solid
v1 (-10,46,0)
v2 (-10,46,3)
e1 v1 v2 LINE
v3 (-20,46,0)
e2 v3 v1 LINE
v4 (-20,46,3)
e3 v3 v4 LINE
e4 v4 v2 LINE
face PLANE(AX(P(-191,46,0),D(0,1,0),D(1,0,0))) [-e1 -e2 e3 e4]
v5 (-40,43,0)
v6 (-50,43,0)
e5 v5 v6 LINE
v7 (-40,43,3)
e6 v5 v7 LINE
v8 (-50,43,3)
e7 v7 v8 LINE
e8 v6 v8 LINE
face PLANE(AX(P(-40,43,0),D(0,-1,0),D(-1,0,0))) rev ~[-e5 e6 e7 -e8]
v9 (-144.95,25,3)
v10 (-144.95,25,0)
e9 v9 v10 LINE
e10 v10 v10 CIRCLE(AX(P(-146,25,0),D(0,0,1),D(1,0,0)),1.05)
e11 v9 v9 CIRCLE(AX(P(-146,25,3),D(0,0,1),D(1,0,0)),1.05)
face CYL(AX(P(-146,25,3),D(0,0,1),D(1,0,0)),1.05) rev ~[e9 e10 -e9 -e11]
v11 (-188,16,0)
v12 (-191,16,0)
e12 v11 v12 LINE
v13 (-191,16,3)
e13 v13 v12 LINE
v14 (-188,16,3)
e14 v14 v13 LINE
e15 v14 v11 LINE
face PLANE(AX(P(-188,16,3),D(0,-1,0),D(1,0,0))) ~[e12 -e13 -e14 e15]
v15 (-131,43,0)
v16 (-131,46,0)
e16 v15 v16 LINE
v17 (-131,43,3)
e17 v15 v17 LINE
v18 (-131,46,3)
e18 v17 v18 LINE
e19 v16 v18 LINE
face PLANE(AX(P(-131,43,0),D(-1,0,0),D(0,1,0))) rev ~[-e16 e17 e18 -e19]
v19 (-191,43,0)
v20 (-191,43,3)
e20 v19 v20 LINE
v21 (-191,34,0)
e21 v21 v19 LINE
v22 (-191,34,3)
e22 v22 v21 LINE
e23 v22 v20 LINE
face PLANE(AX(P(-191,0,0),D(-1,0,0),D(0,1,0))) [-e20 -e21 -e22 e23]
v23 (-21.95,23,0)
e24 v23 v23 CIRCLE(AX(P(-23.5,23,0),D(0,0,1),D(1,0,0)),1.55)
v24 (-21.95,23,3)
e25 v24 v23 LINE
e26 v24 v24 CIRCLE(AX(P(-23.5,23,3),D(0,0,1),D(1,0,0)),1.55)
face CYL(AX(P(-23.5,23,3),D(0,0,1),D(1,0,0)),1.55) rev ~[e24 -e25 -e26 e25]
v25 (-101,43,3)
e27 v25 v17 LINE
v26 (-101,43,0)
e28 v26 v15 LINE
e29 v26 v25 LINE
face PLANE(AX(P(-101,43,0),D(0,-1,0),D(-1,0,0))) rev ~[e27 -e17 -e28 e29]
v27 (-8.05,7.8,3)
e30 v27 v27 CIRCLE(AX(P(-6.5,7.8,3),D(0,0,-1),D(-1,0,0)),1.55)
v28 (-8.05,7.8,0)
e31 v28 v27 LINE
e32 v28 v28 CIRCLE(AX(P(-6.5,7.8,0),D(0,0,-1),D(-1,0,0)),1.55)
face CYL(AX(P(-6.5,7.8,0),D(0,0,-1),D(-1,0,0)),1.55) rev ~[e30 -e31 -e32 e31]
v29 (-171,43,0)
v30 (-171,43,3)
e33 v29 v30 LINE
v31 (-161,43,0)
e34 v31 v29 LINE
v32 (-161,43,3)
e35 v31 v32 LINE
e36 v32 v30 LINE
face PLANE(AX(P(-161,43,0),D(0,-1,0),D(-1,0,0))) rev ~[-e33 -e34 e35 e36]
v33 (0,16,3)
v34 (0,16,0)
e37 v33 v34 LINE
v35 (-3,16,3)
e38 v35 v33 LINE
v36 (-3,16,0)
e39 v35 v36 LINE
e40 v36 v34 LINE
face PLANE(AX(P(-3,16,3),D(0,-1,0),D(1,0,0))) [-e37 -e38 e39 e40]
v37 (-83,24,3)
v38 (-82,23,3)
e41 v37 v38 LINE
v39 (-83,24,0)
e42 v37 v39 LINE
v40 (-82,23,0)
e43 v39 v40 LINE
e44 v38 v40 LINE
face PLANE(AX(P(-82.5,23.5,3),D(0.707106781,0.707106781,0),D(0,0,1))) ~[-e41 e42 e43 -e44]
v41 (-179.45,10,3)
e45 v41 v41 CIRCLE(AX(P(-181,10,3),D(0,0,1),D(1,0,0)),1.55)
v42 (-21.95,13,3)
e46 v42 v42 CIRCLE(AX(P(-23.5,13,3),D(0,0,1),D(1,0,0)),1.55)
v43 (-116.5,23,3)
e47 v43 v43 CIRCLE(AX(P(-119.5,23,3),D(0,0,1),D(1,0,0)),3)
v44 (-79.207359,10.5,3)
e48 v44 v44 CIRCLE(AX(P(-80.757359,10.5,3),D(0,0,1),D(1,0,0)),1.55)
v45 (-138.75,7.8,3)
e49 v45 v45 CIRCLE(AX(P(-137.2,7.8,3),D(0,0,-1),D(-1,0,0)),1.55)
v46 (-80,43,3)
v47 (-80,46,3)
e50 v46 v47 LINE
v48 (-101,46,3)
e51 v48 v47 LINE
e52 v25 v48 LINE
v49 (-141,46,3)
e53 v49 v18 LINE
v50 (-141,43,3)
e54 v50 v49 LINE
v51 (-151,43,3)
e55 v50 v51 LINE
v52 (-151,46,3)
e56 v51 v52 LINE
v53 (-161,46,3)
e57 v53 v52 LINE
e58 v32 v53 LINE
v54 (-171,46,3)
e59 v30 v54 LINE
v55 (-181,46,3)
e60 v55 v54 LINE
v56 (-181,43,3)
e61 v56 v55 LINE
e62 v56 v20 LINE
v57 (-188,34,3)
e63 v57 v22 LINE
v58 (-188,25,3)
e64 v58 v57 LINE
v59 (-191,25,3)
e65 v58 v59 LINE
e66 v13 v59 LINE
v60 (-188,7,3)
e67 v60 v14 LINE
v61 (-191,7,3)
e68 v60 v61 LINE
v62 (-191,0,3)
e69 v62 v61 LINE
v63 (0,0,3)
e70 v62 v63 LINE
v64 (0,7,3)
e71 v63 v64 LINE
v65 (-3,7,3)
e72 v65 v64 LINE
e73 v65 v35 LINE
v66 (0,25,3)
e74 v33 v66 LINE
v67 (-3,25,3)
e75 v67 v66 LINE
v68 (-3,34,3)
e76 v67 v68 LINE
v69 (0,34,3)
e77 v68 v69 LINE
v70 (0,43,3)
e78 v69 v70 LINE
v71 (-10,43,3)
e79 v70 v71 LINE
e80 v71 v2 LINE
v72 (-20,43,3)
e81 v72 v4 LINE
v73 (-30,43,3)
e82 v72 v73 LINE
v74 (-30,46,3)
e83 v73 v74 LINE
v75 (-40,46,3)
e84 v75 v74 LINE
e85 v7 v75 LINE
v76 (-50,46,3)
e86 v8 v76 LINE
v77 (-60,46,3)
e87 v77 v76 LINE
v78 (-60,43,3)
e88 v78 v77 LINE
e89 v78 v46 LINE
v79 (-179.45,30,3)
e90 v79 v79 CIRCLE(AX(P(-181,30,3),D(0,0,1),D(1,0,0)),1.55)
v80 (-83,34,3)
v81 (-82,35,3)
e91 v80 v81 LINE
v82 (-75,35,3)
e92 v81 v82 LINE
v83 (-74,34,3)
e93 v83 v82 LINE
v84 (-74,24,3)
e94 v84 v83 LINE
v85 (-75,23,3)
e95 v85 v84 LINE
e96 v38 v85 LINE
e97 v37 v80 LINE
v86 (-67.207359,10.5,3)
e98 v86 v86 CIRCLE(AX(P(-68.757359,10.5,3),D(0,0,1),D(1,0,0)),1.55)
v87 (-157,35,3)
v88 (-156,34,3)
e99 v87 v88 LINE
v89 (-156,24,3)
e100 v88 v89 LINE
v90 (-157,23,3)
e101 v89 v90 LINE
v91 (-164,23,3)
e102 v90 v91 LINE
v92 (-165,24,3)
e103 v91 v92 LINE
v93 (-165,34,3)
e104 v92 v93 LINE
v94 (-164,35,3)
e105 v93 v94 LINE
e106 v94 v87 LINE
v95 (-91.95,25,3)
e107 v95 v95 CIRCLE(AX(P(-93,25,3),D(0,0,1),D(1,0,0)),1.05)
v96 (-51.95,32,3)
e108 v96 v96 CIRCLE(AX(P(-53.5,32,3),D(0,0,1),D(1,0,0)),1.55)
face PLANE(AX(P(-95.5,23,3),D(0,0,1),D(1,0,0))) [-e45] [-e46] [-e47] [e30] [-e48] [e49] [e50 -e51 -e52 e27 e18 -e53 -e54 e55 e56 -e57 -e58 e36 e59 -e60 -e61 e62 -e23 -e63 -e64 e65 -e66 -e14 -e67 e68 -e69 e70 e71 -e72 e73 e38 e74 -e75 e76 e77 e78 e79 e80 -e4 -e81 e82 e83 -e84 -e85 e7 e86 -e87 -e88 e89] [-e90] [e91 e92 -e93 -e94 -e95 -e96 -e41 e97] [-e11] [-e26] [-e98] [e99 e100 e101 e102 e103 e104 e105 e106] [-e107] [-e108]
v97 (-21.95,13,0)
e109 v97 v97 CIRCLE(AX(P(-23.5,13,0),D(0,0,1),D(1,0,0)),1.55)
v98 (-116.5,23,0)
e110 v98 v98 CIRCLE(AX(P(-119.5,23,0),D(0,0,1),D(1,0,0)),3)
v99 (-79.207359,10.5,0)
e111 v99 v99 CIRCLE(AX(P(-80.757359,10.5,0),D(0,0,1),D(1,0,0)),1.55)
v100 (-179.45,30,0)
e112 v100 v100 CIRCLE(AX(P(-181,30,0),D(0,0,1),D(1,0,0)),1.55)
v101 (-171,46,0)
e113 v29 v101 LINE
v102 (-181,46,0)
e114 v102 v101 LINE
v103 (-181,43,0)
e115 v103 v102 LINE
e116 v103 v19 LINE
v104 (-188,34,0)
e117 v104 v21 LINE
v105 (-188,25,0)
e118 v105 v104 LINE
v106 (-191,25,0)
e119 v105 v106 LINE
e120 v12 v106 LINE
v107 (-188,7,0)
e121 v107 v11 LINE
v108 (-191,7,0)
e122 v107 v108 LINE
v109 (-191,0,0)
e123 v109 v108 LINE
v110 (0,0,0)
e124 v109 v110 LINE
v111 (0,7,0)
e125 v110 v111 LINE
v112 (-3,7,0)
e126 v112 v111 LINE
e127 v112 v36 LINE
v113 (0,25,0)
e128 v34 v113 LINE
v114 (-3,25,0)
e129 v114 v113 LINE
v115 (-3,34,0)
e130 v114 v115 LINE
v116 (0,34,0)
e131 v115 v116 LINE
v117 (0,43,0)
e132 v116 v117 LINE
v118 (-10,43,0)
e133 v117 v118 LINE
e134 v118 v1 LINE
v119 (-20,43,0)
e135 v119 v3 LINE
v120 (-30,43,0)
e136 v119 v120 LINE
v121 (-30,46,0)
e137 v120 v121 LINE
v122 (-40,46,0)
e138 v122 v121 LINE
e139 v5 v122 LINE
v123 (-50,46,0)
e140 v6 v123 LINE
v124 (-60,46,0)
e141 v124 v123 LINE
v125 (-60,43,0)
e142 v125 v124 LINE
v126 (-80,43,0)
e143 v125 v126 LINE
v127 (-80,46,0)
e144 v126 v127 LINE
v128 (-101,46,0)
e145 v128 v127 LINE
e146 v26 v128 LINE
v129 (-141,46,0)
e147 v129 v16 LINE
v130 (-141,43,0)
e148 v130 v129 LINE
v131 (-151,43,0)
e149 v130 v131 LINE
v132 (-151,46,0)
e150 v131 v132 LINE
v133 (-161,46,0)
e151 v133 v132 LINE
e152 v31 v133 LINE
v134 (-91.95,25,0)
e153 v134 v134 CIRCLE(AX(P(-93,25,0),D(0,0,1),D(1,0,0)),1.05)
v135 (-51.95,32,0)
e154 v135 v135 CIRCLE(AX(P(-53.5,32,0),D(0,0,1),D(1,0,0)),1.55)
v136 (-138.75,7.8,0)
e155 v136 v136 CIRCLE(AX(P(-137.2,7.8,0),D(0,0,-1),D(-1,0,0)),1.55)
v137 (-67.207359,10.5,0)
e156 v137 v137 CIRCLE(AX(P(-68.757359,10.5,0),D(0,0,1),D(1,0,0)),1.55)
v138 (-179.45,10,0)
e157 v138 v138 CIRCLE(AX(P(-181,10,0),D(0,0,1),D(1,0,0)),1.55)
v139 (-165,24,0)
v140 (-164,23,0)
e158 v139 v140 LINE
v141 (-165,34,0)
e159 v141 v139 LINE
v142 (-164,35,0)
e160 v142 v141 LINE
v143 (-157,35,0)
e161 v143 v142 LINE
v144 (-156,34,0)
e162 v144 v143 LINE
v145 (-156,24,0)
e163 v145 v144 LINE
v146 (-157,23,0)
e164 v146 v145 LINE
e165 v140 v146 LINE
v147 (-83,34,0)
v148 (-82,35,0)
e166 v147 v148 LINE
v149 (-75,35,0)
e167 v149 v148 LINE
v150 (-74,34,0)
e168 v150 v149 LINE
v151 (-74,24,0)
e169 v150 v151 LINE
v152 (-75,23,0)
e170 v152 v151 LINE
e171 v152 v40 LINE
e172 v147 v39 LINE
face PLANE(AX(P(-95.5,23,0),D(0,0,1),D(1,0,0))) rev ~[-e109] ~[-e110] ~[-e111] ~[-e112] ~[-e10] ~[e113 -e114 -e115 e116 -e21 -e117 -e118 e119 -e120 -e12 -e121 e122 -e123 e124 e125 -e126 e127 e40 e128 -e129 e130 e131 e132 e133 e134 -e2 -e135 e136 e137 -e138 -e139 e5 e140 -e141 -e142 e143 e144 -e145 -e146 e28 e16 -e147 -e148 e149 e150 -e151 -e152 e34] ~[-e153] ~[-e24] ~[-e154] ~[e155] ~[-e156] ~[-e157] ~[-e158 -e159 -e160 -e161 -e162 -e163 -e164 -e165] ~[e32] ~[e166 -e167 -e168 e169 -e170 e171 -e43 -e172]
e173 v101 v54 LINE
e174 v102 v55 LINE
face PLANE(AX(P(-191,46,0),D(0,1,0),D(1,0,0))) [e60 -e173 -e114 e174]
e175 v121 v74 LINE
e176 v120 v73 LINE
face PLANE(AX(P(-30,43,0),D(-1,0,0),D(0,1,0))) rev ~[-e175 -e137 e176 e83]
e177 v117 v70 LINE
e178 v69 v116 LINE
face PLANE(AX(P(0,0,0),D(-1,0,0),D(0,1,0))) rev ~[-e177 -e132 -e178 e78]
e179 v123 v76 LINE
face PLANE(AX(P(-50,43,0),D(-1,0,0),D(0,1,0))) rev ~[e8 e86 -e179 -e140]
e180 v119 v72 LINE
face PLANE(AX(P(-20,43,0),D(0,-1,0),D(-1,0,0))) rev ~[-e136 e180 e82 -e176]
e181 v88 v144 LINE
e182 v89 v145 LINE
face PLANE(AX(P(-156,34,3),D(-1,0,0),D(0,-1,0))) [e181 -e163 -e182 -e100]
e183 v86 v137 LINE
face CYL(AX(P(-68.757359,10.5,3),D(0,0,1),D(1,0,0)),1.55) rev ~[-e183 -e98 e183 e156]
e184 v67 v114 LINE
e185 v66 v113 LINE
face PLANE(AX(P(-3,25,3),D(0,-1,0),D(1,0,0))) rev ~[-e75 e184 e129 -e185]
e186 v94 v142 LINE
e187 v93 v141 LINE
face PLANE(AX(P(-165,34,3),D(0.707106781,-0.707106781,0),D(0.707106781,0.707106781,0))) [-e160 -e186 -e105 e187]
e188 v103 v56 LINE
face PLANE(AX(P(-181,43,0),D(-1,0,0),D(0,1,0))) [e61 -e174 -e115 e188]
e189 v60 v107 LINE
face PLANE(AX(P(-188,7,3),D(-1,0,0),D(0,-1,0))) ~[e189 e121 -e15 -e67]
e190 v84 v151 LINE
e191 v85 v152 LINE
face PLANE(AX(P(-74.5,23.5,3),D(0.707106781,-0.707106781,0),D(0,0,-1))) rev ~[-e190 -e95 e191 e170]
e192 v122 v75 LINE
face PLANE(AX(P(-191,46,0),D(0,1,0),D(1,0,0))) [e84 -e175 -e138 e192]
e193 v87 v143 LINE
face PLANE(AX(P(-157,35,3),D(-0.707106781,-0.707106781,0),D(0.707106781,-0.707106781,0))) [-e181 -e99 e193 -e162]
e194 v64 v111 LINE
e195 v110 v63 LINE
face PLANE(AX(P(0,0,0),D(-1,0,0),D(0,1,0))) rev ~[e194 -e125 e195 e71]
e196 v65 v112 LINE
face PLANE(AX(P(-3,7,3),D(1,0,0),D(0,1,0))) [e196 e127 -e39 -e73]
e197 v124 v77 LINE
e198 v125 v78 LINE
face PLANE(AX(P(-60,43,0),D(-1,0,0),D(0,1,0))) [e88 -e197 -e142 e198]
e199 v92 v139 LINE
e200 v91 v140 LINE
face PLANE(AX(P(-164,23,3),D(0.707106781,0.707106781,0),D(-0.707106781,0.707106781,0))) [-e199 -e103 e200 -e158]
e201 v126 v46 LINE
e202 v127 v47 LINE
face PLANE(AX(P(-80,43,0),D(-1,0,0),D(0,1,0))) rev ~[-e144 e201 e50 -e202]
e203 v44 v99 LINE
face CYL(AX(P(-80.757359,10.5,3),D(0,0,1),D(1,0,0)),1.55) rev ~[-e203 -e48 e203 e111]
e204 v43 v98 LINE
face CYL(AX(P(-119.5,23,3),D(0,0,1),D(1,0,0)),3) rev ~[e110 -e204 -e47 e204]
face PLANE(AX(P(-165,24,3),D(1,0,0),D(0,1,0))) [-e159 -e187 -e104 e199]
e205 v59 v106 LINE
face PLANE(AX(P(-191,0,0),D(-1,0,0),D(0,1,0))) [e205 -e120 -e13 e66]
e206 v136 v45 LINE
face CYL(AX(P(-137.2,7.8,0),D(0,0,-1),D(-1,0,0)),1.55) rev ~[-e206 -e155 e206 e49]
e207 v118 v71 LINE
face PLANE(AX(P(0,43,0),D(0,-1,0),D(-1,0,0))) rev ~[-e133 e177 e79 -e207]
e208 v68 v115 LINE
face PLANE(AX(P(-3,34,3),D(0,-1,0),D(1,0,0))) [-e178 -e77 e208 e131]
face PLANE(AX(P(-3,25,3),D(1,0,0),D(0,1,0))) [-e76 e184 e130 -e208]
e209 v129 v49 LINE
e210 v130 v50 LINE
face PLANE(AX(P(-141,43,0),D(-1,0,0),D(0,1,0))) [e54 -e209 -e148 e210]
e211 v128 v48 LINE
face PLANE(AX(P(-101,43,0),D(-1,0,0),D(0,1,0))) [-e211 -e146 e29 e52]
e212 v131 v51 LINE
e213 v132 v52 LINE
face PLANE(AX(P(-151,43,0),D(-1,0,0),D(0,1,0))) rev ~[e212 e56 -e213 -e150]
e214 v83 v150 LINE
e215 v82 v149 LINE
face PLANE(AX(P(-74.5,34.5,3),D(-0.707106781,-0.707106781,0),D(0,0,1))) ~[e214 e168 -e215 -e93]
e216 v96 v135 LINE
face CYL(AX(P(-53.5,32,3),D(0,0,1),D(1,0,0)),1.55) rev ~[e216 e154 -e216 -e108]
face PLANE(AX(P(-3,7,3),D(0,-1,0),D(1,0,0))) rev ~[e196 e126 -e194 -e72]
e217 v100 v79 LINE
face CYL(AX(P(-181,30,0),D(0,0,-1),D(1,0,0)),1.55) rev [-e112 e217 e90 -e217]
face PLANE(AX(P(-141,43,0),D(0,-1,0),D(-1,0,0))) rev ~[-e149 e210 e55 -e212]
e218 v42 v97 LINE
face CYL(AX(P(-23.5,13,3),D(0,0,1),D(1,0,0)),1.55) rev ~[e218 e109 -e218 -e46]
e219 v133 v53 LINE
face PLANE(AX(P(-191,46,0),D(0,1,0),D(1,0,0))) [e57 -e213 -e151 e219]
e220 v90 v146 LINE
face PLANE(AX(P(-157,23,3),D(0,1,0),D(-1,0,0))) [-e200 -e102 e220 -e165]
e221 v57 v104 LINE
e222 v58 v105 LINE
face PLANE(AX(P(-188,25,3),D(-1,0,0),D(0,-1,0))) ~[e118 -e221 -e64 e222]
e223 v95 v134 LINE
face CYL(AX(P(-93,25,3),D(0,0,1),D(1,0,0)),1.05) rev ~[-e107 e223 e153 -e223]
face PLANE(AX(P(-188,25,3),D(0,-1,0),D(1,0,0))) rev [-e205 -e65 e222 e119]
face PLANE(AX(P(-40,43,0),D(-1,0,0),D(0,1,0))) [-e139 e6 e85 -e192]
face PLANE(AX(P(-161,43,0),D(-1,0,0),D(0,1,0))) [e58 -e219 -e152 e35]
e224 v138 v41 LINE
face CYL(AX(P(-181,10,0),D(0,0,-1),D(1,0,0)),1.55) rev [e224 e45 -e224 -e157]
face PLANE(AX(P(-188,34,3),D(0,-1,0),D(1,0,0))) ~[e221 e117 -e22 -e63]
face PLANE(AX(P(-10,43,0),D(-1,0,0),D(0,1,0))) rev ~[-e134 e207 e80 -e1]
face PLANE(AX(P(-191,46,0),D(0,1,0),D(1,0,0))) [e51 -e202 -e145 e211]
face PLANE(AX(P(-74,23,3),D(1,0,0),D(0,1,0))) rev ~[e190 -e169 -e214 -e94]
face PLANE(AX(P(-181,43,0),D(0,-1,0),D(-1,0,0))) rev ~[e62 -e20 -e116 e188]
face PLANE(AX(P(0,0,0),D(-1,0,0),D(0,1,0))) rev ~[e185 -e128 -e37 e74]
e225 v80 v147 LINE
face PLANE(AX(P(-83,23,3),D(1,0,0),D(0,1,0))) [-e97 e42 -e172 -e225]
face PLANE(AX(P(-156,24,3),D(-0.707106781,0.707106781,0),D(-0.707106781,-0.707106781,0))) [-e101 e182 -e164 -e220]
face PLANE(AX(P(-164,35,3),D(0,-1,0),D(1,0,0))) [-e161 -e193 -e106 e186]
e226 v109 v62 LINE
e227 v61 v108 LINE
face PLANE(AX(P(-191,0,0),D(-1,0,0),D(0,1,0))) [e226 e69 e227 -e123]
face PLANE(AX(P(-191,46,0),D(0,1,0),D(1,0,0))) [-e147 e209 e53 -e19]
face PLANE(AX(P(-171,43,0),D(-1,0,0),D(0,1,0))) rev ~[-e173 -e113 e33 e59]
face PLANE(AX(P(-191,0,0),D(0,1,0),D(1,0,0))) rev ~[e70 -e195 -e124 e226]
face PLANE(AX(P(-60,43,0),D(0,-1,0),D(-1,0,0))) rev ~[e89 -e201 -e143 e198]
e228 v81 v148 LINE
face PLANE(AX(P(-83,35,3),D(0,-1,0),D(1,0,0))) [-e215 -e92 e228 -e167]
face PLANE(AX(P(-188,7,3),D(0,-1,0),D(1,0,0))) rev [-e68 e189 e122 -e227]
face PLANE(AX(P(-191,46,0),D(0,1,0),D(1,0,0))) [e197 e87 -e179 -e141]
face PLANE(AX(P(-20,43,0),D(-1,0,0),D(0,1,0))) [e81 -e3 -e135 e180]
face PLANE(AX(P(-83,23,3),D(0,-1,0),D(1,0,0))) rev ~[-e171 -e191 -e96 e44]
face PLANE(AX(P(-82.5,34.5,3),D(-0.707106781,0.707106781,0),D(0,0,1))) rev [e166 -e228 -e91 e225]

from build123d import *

# Parameters (mm, degrees)
SKETCH1_W           = 191
SKETCH1_H           = 46
SKETCH1_R           = 1.549999948
BOSS_EXTRUDE1_DEPTH = 3
CUT_EXTRUDE1_REACH  = 198.484
SKETCH3_W           = 10
SKETCH3_H           = 3
SKETCH3_W_2         = 30
SKETCH3_W_3         = 20
CUT_EXTRUDE2_REACH  = 198.484
SKETCH4_W           = 3
SKETCH4_H           = 9
CUT_EXTRUDE3_REACH  = 198.484
SKETCH6_R           = 3
CUT_EXTRUDE4_REACH  = 198.484
SKETCH7_R           = 1.55
CUT_EXTRUDE5_REACH  = 198.484
SKETCH8_R           = 1.55
CUT_EXTRUDE6_REACH  = 198.484
SKETCH9_R           = 1.05
SKETCH9_W           = 9
SKETCH9_H           = 12
CHAMFER1_SIZE       = 1
CUT_EXTRUDE7_REACH  = 198.484
SKETCH10_R          = 1.05


with BuildPart() as part:
    # Sketch1 → Boss-Extrude1 (new body)
    with BuildSketch(Plane.XY):
        with Locations((-95.5, 23)):
            Rectangle(SKETCH1_W, SKETCH1_H)
        with Locations((-181, 30)):
            Circle(SKETCH1_R, mode=Mode.SUBTRACT)
        with Locations((-181, 10)):
            Circle(SKETCH1_R, mode=Mode.SUBTRACT)
    extrude(amount=BOSS_EXTRUDE1_DEPTH)

    # Sketch3 → Cut-Extrude1 (cut, up to next)
    with BuildSketch(Plane(origin=(0, 0, 0), x_dir=(-1, 0, 0), z_dir=(0, 0, -1)), mode=Mode.PRIVATE) as cut_extrude1_sk1:
        with Locations((45, 44.5)):
            Rectangle(SKETCH3_W, SKETCH3_H)
    cut_extrude1_tool1 = extrude(cut_extrude1_sk1.sketch, amount=-CUT_EXTRUDE1_REACH, mode=Mode.PRIVATE) & part.part
    # Sketch3 → Cut-Extrude1 (cut, up to next)
    with BuildSketch(Plane(origin=(0, 0, 0), x_dir=(-1, 0, 0), z_dir=(0, 0, -1)), mode=Mode.PRIVATE) as cut_extrude1_sk2:
        with Locations((25, 44.5)):
            Rectangle(SKETCH3_W, SKETCH3_H)
    cut_extrude1_tool2 = extrude(cut_extrude1_sk2.sketch, amount=-CUT_EXTRUDE1_REACH, mode=Mode.PRIVATE) & part.part
    # Sketch3 → Cut-Extrude1 (cut, up to next)
    with BuildSketch(Plane(origin=(0, 0, 0), x_dir=(-1, 0, 0), z_dir=(0, 0, -1)), mode=Mode.PRIVATE) as cut_extrude1_sk3:
        with Locations((5, 44.5)):
            Rectangle(SKETCH3_W, SKETCH3_H)
    cut_extrude1_tool3 = extrude(cut_extrude1_sk3.sketch, amount=-CUT_EXTRUDE1_REACH, mode=Mode.PRIVATE) & part.part
    # Sketch3 → Cut-Extrude1 (cut, up to next)
    with BuildSketch(Plane(origin=(0, 0, 0), x_dir=(-1, 0, 0), z_dir=(0, 0, -1)), mode=Mode.PRIVATE) as cut_extrude1_sk4:
        with Locations((166, 44.5)):
            Rectangle(SKETCH3_W, SKETCH3_H)
    cut_extrude1_tool4 = extrude(cut_extrude1_sk4.sketch, amount=-CUT_EXTRUDE1_REACH, mode=Mode.PRIVATE) & part.part
    # Sketch3 → Cut-Extrude1 (cut, up to next)
    with BuildSketch(Plane(origin=(0, 0, 0), x_dir=(-1, 0, 0), z_dir=(0, 0, -1)), mode=Mode.PRIVATE) as cut_extrude1_sk5:
        with Locations((146, 44.5)):
            Rectangle(SKETCH3_W, SKETCH3_H)
    cut_extrude1_tool5 = extrude(cut_extrude1_sk5.sketch, amount=-CUT_EXTRUDE1_REACH, mode=Mode.PRIVATE) & part.part
    # Sketch3 → Cut-Extrude1 (cut, up to next)
    with BuildSketch(Plane(origin=(0, 0, 0), x_dir=(-1, 0, 0), z_dir=(0, 0, -1)), mode=Mode.PRIVATE) as cut_extrude1_sk6:
        with Locations((116, 44.5)):
            Rectangle(SKETCH3_W_2, SKETCH3_H)
    cut_extrude1_tool6 = extrude(cut_extrude1_sk6.sketch, amount=-CUT_EXTRUDE1_REACH, mode=Mode.PRIVATE) & part.part
    # Sketch3 → Cut-Extrude1 (cut, up to next)
    with BuildSketch(Plane(origin=(0, 0, 0), x_dir=(-1, 0, 0), z_dir=(0, 0, -1)), mode=Mode.PRIVATE) as cut_extrude1_sk7:
        with Locations((70, 44.5)):
            Rectangle(SKETCH3_W_3, SKETCH3_H)
    cut_extrude1_tool7 = extrude(cut_extrude1_sk7.sketch, amount=-CUT_EXTRUDE1_REACH, mode=Mode.PRIVATE) & part.part
    # Sketch3 → Cut-Extrude1 (cut, up to next)
    with BuildSketch(Plane(origin=(0, 0, 0), x_dir=(-1, 0, 0), z_dir=(0, 0, -1)), mode=Mode.PRIVATE) as cut_extrude1_sk8:
        with Locations((186, 44.5)):
            Rectangle(SKETCH3_W, SKETCH3_H)
    cut_extrude1_tool8 = extrude(cut_extrude1_sk8.sketch, amount=-CUT_EXTRUDE1_REACH, mode=Mode.PRIVATE) & part.part
    add(cut_extrude1_tool1.solids().sort_by_distance((-45, 44.5, 0))[0], mode=Mode.SUBTRACT)
    add(cut_extrude1_tool2.solids().sort_by_distance((-25, 44.5, 0))[0], mode=Mode.SUBTRACT)
    add(cut_extrude1_tool3.solids().sort_by_distance((-5, 44.5, 0))[0], mode=Mode.SUBTRACT)
    add(cut_extrude1_tool4.solids().sort_by_distance((-166, 44.5, 0))[0], mode=Mode.SUBTRACT)
    add(cut_extrude1_tool5.solids().sort_by_distance((-146, 44.5, 0))[0], mode=Mode.SUBTRACT)
    add(cut_extrude1_tool6.solids().sort_by_distance((-116, 44.5, 0))[0], mode=Mode.SUBTRACT)
    add(cut_extrude1_tool7.solids().sort_by_distance((-70, 44.5, 0))[0], mode=Mode.SUBTRACT)
    add(cut_extrude1_tool8.solids().sort_by_distance((-186, 44.5, 0))[0], mode=Mode.SUBTRACT)

    # Sketch4 → Cut-Extrude2 (cut, up to next)
    with BuildSketch(Plane.XY.offset(3), mode=Mode.PRIVATE) as cut_extrude2_sk1:
        with Locations((-1.5, 29.5)):
            Rectangle(SKETCH4_W, SKETCH4_H)
    cut_extrude2_tool1 = extrude(cut_extrude2_sk1.sketch, amount=-CUT_EXTRUDE2_REACH, mode=Mode.PRIVATE) & part.part
    # Sketch4 → Cut-Extrude2 (cut, up to next)
    with BuildSketch(Plane.XY.offset(3), mode=Mode.PRIVATE) as cut_extrude2_sk2:
        with Locations((-1.5, 11.5)):
            Rectangle(SKETCH4_W, SKETCH4_H)
    cut_extrude2_tool2 = extrude(cut_extrude2_sk2.sketch, amount=-CUT_EXTRUDE2_REACH, mode=Mode.PRIVATE) & part.part
    cut_extrude2_1 = cut_extrude2_tool1.solids().sort_by_distance((-1.5, 29.5, 3))[0]
    add(cut_extrude2_1, mode=Mode.SUBTRACT)
    cut_extrude2_2 = cut_extrude2_tool2.solids().sort_by_distance((-1.5, 11.5, 3))[0]
    add(cut_extrude2_2, mode=Mode.SUBTRACT)
    cut_extrude2 = cut_extrude2_1 + cut_extrude2_2  # Cut-Extrude2 as one shape, for the pattern or mirror that repeats it

    # Mirror1: Cut-Extrude2 across plane
    add(cut_extrude2.mirror(Plane(origin=(-95.5, 0, 0), x_dir=(0, 0, 1), z_dir=(1, 0, 0))), mode=Mode.SUBTRACT)

    # Sketch6 → Cut-Extrude3 (cut, up to next)
    with BuildSketch(Plane.XY.offset(3), mode=Mode.PRIVATE) as cut_extrude3_sk1:
        with Locations((-119.5, 23)):
            Circle(SKETCH6_R)
    cut_extrude3_tool1 = extrude(cut_extrude3_sk1.sketch, amount=-CUT_EXTRUDE3_REACH, mode=Mode.PRIVATE) & part.part
    add(cut_extrude3_tool1.solids().sort_by_distance((-119.5, 23, 3))[0], mode=Mode.SUBTRACT)

    # Sketch7 → Cut-Extrude4 (cut, up to next)
    with BuildSketch(Plane.XY.offset(3), mode=Mode.PRIVATE) as cut_extrude4_sk1:
        with Locations((-53.5, 32)):
            Circle(SKETCH7_R)
    cut_extrude4_tool1 = extrude(cut_extrude4_sk1.sketch, amount=-CUT_EXTRUDE4_REACH, mode=Mode.PRIVATE) & part.part
    # Sketch7 → Cut-Extrude4 (cut, up to next)
    with BuildSketch(Plane.XY.offset(3), mode=Mode.PRIVATE) as cut_extrude4_sk2:
        with Locations((-68.757359313, 10.5)):
            Circle(SKETCH7_R)
    cut_extrude4_tool2 = extrude(cut_extrude4_sk2.sketch, amount=-CUT_EXTRUDE4_REACH, mode=Mode.PRIVATE) & part.part
    # Sketch7 → Cut-Extrude4 (cut, up to next)
    with BuildSketch(Plane.XY.offset(3), mode=Mode.PRIVATE) as cut_extrude4_sk3:
        with Locations((-80.757359313, 10.5)):
            Circle(SKETCH7_R)
    cut_extrude4_tool3 = extrude(cut_extrude4_sk3.sketch, amount=-CUT_EXTRUDE4_REACH, mode=Mode.PRIVATE) & part.part
    # Sketch7 → Cut-Extrude4 (cut, up to next)
    with BuildSketch(Plane.XY.offset(3), mode=Mode.PRIVATE) as cut_extrude4_sk4:
        with Locations((-23.5, 23)):
            Circle(SKETCH7_R)
    cut_extrude4_tool4 = extrude(cut_extrude4_sk4.sketch, amount=-CUT_EXTRUDE4_REACH, mode=Mode.PRIVATE) & part.part
    # Sketch7 → Cut-Extrude4 (cut, up to next)
    with BuildSketch(Plane.XY.offset(3), mode=Mode.PRIVATE) as cut_extrude4_sk5:
        with Locations((-23.5, 13)):
            Circle(SKETCH7_R)
    cut_extrude4_tool5 = extrude(cut_extrude4_sk5.sketch, amount=-CUT_EXTRUDE4_REACH, mode=Mode.PRIVATE) & part.part
    add(cut_extrude4_tool1.solids().sort_by_distance((-53.5, 32, 3))[0], mode=Mode.SUBTRACT)
    add(cut_extrude4_tool2.solids().sort_by_distance((-68.757359, 10.5, 3))[0], mode=Mode.SUBTRACT)
    add(cut_extrude4_tool3.solids().sort_by_distance((-80.757359, 10.5, 3))[0], mode=Mode.SUBTRACT)
    add(cut_extrude4_tool4.solids().sort_by_distance((-23.5, 23, 3))[0], mode=Mode.SUBTRACT)
    add(cut_extrude4_tool5.solids().sort_by_distance((-23.5, 13, 3))[0], mode=Mode.SUBTRACT)

    # Sketch8 → Cut-Extrude5 (cut, up to next)
    with BuildSketch(Plane(origin=(0, 0, 0), x_dir=(-1, 0, 0), z_dir=(0, 0, -1)), mode=Mode.PRIVATE) as cut_extrude5_sk1:
        with Locations((137.2, 7.8)):
            Circle(SKETCH8_R)
    cut_extrude5_tool1 = extrude(cut_extrude5_sk1.sketch, amount=-CUT_EXTRUDE5_REACH, mode=Mode.PRIVATE) & part.part
    # Sketch8 → Cut-Extrude5 (cut, up to next)
    with BuildSketch(Plane(origin=(0, 0, 0), x_dir=(-1, 0, 0), z_dir=(0, 0, -1)), mode=Mode.PRIVATE) as cut_extrude5_sk2:
        with Locations((6.5, 7.8)):
            Circle(SKETCH8_R)
    cut_extrude5_tool2 = extrude(cut_extrude5_sk2.sketch, amount=-CUT_EXTRUDE5_REACH, mode=Mode.PRIVATE) & part.part
    add(cut_extrude5_tool1.solids().sort_by_distance((-137.2, 7.8, 0))[0], mode=Mode.SUBTRACT)
    add(cut_extrude5_tool2.solids().sort_by_distance((-6.5, 7.8, 0))[0], mode=Mode.SUBTRACT)

    # Sketch9 → Cut-Extrude6 (cut, up to next)
    with BuildSketch(Plane.XY.offset(3), mode=Mode.PRIVATE) as cut_extrude6_sk1:
        with Locations((-93, 25)):
            Circle(SKETCH9_R)
    cut_extrude6_tool1 = extrude(cut_extrude6_sk1.sketch, amount=-CUT_EXTRUDE6_REACH, mode=Mode.PRIVATE) & part.part
    # Sketch9 → Cut-Extrude6 (cut, up to next)
    with BuildSketch(Plane.XY.offset(3), mode=Mode.PRIVATE) as cut_extrude6_sk2:
        with Locations((-78.5, 29)):
            Rectangle(SKETCH9_W, SKETCH9_H)
    cut_extrude6_tool2 = extrude(cut_extrude6_sk2.sketch, amount=-CUT_EXTRUDE6_REACH, mode=Mode.PRIVATE) & part.part
    add(cut_extrude6_tool1.solids().sort_by_distance((-93, 25, 3))[0], mode=Mode.SUBTRACT)
    add(cut_extrude6_tool2.solids().sort_by_distance((-78.5, 29, 3))[0], mode=Mode.SUBTRACT)

    # Chamfer1
    chamfer1_edges = [part.edges().sort_by_distance(p)[0] for p in [
        (-83, 35, 1.5),
        (-83, 23, 1.5),
        (-74, 23, 1.5),
        (-74, 35, 1.5),
    ]]
    chamfer(chamfer1_edges, length=CHAMFER1_SIZE)

    # Sketch10 → Cut-Extrude7 (cut, up to next)
    with BuildSketch(Plane.XY.offset(3), mode=Mode.PRIVATE) as cut_extrude7_sk1:
        Polygon((-165, 34), (-165, 24), (-164, 23), (-157, 23), (-156, 24), (-156, 34), (-157, 35), (-164, 35), align=None)
    cut_extrude7_tool1 = extrude(cut_extrude7_sk1.sketch, amount=-CUT_EXTRUDE7_REACH, mode=Mode.PRIVATE) & part.part
    # Sketch10 → Cut-Extrude7 (cut, up to next)
    with BuildSketch(Plane.XY.offset(3), mode=Mode.PRIVATE) as cut_extrude7_sk2:
        with Locations((-146, 25)):
            Circle(SKETCH10_R)
    cut_extrude7_tool2 = extrude(cut_extrude7_sk2.sketch, amount=-CUT_EXTRUDE7_REACH, mode=Mode.PRIVATE) & part.part
    add(cut_extrude7_tool1.solids().sort_by_distance((-160.5, 29, 3))[0], mode=Mode.SUBTRACT)
    add(cut_extrude7_tool2.solids().sort_by_distance((-146, 25, 3))[0], mode=Mode.SUBTRACT)


solid = part.part
